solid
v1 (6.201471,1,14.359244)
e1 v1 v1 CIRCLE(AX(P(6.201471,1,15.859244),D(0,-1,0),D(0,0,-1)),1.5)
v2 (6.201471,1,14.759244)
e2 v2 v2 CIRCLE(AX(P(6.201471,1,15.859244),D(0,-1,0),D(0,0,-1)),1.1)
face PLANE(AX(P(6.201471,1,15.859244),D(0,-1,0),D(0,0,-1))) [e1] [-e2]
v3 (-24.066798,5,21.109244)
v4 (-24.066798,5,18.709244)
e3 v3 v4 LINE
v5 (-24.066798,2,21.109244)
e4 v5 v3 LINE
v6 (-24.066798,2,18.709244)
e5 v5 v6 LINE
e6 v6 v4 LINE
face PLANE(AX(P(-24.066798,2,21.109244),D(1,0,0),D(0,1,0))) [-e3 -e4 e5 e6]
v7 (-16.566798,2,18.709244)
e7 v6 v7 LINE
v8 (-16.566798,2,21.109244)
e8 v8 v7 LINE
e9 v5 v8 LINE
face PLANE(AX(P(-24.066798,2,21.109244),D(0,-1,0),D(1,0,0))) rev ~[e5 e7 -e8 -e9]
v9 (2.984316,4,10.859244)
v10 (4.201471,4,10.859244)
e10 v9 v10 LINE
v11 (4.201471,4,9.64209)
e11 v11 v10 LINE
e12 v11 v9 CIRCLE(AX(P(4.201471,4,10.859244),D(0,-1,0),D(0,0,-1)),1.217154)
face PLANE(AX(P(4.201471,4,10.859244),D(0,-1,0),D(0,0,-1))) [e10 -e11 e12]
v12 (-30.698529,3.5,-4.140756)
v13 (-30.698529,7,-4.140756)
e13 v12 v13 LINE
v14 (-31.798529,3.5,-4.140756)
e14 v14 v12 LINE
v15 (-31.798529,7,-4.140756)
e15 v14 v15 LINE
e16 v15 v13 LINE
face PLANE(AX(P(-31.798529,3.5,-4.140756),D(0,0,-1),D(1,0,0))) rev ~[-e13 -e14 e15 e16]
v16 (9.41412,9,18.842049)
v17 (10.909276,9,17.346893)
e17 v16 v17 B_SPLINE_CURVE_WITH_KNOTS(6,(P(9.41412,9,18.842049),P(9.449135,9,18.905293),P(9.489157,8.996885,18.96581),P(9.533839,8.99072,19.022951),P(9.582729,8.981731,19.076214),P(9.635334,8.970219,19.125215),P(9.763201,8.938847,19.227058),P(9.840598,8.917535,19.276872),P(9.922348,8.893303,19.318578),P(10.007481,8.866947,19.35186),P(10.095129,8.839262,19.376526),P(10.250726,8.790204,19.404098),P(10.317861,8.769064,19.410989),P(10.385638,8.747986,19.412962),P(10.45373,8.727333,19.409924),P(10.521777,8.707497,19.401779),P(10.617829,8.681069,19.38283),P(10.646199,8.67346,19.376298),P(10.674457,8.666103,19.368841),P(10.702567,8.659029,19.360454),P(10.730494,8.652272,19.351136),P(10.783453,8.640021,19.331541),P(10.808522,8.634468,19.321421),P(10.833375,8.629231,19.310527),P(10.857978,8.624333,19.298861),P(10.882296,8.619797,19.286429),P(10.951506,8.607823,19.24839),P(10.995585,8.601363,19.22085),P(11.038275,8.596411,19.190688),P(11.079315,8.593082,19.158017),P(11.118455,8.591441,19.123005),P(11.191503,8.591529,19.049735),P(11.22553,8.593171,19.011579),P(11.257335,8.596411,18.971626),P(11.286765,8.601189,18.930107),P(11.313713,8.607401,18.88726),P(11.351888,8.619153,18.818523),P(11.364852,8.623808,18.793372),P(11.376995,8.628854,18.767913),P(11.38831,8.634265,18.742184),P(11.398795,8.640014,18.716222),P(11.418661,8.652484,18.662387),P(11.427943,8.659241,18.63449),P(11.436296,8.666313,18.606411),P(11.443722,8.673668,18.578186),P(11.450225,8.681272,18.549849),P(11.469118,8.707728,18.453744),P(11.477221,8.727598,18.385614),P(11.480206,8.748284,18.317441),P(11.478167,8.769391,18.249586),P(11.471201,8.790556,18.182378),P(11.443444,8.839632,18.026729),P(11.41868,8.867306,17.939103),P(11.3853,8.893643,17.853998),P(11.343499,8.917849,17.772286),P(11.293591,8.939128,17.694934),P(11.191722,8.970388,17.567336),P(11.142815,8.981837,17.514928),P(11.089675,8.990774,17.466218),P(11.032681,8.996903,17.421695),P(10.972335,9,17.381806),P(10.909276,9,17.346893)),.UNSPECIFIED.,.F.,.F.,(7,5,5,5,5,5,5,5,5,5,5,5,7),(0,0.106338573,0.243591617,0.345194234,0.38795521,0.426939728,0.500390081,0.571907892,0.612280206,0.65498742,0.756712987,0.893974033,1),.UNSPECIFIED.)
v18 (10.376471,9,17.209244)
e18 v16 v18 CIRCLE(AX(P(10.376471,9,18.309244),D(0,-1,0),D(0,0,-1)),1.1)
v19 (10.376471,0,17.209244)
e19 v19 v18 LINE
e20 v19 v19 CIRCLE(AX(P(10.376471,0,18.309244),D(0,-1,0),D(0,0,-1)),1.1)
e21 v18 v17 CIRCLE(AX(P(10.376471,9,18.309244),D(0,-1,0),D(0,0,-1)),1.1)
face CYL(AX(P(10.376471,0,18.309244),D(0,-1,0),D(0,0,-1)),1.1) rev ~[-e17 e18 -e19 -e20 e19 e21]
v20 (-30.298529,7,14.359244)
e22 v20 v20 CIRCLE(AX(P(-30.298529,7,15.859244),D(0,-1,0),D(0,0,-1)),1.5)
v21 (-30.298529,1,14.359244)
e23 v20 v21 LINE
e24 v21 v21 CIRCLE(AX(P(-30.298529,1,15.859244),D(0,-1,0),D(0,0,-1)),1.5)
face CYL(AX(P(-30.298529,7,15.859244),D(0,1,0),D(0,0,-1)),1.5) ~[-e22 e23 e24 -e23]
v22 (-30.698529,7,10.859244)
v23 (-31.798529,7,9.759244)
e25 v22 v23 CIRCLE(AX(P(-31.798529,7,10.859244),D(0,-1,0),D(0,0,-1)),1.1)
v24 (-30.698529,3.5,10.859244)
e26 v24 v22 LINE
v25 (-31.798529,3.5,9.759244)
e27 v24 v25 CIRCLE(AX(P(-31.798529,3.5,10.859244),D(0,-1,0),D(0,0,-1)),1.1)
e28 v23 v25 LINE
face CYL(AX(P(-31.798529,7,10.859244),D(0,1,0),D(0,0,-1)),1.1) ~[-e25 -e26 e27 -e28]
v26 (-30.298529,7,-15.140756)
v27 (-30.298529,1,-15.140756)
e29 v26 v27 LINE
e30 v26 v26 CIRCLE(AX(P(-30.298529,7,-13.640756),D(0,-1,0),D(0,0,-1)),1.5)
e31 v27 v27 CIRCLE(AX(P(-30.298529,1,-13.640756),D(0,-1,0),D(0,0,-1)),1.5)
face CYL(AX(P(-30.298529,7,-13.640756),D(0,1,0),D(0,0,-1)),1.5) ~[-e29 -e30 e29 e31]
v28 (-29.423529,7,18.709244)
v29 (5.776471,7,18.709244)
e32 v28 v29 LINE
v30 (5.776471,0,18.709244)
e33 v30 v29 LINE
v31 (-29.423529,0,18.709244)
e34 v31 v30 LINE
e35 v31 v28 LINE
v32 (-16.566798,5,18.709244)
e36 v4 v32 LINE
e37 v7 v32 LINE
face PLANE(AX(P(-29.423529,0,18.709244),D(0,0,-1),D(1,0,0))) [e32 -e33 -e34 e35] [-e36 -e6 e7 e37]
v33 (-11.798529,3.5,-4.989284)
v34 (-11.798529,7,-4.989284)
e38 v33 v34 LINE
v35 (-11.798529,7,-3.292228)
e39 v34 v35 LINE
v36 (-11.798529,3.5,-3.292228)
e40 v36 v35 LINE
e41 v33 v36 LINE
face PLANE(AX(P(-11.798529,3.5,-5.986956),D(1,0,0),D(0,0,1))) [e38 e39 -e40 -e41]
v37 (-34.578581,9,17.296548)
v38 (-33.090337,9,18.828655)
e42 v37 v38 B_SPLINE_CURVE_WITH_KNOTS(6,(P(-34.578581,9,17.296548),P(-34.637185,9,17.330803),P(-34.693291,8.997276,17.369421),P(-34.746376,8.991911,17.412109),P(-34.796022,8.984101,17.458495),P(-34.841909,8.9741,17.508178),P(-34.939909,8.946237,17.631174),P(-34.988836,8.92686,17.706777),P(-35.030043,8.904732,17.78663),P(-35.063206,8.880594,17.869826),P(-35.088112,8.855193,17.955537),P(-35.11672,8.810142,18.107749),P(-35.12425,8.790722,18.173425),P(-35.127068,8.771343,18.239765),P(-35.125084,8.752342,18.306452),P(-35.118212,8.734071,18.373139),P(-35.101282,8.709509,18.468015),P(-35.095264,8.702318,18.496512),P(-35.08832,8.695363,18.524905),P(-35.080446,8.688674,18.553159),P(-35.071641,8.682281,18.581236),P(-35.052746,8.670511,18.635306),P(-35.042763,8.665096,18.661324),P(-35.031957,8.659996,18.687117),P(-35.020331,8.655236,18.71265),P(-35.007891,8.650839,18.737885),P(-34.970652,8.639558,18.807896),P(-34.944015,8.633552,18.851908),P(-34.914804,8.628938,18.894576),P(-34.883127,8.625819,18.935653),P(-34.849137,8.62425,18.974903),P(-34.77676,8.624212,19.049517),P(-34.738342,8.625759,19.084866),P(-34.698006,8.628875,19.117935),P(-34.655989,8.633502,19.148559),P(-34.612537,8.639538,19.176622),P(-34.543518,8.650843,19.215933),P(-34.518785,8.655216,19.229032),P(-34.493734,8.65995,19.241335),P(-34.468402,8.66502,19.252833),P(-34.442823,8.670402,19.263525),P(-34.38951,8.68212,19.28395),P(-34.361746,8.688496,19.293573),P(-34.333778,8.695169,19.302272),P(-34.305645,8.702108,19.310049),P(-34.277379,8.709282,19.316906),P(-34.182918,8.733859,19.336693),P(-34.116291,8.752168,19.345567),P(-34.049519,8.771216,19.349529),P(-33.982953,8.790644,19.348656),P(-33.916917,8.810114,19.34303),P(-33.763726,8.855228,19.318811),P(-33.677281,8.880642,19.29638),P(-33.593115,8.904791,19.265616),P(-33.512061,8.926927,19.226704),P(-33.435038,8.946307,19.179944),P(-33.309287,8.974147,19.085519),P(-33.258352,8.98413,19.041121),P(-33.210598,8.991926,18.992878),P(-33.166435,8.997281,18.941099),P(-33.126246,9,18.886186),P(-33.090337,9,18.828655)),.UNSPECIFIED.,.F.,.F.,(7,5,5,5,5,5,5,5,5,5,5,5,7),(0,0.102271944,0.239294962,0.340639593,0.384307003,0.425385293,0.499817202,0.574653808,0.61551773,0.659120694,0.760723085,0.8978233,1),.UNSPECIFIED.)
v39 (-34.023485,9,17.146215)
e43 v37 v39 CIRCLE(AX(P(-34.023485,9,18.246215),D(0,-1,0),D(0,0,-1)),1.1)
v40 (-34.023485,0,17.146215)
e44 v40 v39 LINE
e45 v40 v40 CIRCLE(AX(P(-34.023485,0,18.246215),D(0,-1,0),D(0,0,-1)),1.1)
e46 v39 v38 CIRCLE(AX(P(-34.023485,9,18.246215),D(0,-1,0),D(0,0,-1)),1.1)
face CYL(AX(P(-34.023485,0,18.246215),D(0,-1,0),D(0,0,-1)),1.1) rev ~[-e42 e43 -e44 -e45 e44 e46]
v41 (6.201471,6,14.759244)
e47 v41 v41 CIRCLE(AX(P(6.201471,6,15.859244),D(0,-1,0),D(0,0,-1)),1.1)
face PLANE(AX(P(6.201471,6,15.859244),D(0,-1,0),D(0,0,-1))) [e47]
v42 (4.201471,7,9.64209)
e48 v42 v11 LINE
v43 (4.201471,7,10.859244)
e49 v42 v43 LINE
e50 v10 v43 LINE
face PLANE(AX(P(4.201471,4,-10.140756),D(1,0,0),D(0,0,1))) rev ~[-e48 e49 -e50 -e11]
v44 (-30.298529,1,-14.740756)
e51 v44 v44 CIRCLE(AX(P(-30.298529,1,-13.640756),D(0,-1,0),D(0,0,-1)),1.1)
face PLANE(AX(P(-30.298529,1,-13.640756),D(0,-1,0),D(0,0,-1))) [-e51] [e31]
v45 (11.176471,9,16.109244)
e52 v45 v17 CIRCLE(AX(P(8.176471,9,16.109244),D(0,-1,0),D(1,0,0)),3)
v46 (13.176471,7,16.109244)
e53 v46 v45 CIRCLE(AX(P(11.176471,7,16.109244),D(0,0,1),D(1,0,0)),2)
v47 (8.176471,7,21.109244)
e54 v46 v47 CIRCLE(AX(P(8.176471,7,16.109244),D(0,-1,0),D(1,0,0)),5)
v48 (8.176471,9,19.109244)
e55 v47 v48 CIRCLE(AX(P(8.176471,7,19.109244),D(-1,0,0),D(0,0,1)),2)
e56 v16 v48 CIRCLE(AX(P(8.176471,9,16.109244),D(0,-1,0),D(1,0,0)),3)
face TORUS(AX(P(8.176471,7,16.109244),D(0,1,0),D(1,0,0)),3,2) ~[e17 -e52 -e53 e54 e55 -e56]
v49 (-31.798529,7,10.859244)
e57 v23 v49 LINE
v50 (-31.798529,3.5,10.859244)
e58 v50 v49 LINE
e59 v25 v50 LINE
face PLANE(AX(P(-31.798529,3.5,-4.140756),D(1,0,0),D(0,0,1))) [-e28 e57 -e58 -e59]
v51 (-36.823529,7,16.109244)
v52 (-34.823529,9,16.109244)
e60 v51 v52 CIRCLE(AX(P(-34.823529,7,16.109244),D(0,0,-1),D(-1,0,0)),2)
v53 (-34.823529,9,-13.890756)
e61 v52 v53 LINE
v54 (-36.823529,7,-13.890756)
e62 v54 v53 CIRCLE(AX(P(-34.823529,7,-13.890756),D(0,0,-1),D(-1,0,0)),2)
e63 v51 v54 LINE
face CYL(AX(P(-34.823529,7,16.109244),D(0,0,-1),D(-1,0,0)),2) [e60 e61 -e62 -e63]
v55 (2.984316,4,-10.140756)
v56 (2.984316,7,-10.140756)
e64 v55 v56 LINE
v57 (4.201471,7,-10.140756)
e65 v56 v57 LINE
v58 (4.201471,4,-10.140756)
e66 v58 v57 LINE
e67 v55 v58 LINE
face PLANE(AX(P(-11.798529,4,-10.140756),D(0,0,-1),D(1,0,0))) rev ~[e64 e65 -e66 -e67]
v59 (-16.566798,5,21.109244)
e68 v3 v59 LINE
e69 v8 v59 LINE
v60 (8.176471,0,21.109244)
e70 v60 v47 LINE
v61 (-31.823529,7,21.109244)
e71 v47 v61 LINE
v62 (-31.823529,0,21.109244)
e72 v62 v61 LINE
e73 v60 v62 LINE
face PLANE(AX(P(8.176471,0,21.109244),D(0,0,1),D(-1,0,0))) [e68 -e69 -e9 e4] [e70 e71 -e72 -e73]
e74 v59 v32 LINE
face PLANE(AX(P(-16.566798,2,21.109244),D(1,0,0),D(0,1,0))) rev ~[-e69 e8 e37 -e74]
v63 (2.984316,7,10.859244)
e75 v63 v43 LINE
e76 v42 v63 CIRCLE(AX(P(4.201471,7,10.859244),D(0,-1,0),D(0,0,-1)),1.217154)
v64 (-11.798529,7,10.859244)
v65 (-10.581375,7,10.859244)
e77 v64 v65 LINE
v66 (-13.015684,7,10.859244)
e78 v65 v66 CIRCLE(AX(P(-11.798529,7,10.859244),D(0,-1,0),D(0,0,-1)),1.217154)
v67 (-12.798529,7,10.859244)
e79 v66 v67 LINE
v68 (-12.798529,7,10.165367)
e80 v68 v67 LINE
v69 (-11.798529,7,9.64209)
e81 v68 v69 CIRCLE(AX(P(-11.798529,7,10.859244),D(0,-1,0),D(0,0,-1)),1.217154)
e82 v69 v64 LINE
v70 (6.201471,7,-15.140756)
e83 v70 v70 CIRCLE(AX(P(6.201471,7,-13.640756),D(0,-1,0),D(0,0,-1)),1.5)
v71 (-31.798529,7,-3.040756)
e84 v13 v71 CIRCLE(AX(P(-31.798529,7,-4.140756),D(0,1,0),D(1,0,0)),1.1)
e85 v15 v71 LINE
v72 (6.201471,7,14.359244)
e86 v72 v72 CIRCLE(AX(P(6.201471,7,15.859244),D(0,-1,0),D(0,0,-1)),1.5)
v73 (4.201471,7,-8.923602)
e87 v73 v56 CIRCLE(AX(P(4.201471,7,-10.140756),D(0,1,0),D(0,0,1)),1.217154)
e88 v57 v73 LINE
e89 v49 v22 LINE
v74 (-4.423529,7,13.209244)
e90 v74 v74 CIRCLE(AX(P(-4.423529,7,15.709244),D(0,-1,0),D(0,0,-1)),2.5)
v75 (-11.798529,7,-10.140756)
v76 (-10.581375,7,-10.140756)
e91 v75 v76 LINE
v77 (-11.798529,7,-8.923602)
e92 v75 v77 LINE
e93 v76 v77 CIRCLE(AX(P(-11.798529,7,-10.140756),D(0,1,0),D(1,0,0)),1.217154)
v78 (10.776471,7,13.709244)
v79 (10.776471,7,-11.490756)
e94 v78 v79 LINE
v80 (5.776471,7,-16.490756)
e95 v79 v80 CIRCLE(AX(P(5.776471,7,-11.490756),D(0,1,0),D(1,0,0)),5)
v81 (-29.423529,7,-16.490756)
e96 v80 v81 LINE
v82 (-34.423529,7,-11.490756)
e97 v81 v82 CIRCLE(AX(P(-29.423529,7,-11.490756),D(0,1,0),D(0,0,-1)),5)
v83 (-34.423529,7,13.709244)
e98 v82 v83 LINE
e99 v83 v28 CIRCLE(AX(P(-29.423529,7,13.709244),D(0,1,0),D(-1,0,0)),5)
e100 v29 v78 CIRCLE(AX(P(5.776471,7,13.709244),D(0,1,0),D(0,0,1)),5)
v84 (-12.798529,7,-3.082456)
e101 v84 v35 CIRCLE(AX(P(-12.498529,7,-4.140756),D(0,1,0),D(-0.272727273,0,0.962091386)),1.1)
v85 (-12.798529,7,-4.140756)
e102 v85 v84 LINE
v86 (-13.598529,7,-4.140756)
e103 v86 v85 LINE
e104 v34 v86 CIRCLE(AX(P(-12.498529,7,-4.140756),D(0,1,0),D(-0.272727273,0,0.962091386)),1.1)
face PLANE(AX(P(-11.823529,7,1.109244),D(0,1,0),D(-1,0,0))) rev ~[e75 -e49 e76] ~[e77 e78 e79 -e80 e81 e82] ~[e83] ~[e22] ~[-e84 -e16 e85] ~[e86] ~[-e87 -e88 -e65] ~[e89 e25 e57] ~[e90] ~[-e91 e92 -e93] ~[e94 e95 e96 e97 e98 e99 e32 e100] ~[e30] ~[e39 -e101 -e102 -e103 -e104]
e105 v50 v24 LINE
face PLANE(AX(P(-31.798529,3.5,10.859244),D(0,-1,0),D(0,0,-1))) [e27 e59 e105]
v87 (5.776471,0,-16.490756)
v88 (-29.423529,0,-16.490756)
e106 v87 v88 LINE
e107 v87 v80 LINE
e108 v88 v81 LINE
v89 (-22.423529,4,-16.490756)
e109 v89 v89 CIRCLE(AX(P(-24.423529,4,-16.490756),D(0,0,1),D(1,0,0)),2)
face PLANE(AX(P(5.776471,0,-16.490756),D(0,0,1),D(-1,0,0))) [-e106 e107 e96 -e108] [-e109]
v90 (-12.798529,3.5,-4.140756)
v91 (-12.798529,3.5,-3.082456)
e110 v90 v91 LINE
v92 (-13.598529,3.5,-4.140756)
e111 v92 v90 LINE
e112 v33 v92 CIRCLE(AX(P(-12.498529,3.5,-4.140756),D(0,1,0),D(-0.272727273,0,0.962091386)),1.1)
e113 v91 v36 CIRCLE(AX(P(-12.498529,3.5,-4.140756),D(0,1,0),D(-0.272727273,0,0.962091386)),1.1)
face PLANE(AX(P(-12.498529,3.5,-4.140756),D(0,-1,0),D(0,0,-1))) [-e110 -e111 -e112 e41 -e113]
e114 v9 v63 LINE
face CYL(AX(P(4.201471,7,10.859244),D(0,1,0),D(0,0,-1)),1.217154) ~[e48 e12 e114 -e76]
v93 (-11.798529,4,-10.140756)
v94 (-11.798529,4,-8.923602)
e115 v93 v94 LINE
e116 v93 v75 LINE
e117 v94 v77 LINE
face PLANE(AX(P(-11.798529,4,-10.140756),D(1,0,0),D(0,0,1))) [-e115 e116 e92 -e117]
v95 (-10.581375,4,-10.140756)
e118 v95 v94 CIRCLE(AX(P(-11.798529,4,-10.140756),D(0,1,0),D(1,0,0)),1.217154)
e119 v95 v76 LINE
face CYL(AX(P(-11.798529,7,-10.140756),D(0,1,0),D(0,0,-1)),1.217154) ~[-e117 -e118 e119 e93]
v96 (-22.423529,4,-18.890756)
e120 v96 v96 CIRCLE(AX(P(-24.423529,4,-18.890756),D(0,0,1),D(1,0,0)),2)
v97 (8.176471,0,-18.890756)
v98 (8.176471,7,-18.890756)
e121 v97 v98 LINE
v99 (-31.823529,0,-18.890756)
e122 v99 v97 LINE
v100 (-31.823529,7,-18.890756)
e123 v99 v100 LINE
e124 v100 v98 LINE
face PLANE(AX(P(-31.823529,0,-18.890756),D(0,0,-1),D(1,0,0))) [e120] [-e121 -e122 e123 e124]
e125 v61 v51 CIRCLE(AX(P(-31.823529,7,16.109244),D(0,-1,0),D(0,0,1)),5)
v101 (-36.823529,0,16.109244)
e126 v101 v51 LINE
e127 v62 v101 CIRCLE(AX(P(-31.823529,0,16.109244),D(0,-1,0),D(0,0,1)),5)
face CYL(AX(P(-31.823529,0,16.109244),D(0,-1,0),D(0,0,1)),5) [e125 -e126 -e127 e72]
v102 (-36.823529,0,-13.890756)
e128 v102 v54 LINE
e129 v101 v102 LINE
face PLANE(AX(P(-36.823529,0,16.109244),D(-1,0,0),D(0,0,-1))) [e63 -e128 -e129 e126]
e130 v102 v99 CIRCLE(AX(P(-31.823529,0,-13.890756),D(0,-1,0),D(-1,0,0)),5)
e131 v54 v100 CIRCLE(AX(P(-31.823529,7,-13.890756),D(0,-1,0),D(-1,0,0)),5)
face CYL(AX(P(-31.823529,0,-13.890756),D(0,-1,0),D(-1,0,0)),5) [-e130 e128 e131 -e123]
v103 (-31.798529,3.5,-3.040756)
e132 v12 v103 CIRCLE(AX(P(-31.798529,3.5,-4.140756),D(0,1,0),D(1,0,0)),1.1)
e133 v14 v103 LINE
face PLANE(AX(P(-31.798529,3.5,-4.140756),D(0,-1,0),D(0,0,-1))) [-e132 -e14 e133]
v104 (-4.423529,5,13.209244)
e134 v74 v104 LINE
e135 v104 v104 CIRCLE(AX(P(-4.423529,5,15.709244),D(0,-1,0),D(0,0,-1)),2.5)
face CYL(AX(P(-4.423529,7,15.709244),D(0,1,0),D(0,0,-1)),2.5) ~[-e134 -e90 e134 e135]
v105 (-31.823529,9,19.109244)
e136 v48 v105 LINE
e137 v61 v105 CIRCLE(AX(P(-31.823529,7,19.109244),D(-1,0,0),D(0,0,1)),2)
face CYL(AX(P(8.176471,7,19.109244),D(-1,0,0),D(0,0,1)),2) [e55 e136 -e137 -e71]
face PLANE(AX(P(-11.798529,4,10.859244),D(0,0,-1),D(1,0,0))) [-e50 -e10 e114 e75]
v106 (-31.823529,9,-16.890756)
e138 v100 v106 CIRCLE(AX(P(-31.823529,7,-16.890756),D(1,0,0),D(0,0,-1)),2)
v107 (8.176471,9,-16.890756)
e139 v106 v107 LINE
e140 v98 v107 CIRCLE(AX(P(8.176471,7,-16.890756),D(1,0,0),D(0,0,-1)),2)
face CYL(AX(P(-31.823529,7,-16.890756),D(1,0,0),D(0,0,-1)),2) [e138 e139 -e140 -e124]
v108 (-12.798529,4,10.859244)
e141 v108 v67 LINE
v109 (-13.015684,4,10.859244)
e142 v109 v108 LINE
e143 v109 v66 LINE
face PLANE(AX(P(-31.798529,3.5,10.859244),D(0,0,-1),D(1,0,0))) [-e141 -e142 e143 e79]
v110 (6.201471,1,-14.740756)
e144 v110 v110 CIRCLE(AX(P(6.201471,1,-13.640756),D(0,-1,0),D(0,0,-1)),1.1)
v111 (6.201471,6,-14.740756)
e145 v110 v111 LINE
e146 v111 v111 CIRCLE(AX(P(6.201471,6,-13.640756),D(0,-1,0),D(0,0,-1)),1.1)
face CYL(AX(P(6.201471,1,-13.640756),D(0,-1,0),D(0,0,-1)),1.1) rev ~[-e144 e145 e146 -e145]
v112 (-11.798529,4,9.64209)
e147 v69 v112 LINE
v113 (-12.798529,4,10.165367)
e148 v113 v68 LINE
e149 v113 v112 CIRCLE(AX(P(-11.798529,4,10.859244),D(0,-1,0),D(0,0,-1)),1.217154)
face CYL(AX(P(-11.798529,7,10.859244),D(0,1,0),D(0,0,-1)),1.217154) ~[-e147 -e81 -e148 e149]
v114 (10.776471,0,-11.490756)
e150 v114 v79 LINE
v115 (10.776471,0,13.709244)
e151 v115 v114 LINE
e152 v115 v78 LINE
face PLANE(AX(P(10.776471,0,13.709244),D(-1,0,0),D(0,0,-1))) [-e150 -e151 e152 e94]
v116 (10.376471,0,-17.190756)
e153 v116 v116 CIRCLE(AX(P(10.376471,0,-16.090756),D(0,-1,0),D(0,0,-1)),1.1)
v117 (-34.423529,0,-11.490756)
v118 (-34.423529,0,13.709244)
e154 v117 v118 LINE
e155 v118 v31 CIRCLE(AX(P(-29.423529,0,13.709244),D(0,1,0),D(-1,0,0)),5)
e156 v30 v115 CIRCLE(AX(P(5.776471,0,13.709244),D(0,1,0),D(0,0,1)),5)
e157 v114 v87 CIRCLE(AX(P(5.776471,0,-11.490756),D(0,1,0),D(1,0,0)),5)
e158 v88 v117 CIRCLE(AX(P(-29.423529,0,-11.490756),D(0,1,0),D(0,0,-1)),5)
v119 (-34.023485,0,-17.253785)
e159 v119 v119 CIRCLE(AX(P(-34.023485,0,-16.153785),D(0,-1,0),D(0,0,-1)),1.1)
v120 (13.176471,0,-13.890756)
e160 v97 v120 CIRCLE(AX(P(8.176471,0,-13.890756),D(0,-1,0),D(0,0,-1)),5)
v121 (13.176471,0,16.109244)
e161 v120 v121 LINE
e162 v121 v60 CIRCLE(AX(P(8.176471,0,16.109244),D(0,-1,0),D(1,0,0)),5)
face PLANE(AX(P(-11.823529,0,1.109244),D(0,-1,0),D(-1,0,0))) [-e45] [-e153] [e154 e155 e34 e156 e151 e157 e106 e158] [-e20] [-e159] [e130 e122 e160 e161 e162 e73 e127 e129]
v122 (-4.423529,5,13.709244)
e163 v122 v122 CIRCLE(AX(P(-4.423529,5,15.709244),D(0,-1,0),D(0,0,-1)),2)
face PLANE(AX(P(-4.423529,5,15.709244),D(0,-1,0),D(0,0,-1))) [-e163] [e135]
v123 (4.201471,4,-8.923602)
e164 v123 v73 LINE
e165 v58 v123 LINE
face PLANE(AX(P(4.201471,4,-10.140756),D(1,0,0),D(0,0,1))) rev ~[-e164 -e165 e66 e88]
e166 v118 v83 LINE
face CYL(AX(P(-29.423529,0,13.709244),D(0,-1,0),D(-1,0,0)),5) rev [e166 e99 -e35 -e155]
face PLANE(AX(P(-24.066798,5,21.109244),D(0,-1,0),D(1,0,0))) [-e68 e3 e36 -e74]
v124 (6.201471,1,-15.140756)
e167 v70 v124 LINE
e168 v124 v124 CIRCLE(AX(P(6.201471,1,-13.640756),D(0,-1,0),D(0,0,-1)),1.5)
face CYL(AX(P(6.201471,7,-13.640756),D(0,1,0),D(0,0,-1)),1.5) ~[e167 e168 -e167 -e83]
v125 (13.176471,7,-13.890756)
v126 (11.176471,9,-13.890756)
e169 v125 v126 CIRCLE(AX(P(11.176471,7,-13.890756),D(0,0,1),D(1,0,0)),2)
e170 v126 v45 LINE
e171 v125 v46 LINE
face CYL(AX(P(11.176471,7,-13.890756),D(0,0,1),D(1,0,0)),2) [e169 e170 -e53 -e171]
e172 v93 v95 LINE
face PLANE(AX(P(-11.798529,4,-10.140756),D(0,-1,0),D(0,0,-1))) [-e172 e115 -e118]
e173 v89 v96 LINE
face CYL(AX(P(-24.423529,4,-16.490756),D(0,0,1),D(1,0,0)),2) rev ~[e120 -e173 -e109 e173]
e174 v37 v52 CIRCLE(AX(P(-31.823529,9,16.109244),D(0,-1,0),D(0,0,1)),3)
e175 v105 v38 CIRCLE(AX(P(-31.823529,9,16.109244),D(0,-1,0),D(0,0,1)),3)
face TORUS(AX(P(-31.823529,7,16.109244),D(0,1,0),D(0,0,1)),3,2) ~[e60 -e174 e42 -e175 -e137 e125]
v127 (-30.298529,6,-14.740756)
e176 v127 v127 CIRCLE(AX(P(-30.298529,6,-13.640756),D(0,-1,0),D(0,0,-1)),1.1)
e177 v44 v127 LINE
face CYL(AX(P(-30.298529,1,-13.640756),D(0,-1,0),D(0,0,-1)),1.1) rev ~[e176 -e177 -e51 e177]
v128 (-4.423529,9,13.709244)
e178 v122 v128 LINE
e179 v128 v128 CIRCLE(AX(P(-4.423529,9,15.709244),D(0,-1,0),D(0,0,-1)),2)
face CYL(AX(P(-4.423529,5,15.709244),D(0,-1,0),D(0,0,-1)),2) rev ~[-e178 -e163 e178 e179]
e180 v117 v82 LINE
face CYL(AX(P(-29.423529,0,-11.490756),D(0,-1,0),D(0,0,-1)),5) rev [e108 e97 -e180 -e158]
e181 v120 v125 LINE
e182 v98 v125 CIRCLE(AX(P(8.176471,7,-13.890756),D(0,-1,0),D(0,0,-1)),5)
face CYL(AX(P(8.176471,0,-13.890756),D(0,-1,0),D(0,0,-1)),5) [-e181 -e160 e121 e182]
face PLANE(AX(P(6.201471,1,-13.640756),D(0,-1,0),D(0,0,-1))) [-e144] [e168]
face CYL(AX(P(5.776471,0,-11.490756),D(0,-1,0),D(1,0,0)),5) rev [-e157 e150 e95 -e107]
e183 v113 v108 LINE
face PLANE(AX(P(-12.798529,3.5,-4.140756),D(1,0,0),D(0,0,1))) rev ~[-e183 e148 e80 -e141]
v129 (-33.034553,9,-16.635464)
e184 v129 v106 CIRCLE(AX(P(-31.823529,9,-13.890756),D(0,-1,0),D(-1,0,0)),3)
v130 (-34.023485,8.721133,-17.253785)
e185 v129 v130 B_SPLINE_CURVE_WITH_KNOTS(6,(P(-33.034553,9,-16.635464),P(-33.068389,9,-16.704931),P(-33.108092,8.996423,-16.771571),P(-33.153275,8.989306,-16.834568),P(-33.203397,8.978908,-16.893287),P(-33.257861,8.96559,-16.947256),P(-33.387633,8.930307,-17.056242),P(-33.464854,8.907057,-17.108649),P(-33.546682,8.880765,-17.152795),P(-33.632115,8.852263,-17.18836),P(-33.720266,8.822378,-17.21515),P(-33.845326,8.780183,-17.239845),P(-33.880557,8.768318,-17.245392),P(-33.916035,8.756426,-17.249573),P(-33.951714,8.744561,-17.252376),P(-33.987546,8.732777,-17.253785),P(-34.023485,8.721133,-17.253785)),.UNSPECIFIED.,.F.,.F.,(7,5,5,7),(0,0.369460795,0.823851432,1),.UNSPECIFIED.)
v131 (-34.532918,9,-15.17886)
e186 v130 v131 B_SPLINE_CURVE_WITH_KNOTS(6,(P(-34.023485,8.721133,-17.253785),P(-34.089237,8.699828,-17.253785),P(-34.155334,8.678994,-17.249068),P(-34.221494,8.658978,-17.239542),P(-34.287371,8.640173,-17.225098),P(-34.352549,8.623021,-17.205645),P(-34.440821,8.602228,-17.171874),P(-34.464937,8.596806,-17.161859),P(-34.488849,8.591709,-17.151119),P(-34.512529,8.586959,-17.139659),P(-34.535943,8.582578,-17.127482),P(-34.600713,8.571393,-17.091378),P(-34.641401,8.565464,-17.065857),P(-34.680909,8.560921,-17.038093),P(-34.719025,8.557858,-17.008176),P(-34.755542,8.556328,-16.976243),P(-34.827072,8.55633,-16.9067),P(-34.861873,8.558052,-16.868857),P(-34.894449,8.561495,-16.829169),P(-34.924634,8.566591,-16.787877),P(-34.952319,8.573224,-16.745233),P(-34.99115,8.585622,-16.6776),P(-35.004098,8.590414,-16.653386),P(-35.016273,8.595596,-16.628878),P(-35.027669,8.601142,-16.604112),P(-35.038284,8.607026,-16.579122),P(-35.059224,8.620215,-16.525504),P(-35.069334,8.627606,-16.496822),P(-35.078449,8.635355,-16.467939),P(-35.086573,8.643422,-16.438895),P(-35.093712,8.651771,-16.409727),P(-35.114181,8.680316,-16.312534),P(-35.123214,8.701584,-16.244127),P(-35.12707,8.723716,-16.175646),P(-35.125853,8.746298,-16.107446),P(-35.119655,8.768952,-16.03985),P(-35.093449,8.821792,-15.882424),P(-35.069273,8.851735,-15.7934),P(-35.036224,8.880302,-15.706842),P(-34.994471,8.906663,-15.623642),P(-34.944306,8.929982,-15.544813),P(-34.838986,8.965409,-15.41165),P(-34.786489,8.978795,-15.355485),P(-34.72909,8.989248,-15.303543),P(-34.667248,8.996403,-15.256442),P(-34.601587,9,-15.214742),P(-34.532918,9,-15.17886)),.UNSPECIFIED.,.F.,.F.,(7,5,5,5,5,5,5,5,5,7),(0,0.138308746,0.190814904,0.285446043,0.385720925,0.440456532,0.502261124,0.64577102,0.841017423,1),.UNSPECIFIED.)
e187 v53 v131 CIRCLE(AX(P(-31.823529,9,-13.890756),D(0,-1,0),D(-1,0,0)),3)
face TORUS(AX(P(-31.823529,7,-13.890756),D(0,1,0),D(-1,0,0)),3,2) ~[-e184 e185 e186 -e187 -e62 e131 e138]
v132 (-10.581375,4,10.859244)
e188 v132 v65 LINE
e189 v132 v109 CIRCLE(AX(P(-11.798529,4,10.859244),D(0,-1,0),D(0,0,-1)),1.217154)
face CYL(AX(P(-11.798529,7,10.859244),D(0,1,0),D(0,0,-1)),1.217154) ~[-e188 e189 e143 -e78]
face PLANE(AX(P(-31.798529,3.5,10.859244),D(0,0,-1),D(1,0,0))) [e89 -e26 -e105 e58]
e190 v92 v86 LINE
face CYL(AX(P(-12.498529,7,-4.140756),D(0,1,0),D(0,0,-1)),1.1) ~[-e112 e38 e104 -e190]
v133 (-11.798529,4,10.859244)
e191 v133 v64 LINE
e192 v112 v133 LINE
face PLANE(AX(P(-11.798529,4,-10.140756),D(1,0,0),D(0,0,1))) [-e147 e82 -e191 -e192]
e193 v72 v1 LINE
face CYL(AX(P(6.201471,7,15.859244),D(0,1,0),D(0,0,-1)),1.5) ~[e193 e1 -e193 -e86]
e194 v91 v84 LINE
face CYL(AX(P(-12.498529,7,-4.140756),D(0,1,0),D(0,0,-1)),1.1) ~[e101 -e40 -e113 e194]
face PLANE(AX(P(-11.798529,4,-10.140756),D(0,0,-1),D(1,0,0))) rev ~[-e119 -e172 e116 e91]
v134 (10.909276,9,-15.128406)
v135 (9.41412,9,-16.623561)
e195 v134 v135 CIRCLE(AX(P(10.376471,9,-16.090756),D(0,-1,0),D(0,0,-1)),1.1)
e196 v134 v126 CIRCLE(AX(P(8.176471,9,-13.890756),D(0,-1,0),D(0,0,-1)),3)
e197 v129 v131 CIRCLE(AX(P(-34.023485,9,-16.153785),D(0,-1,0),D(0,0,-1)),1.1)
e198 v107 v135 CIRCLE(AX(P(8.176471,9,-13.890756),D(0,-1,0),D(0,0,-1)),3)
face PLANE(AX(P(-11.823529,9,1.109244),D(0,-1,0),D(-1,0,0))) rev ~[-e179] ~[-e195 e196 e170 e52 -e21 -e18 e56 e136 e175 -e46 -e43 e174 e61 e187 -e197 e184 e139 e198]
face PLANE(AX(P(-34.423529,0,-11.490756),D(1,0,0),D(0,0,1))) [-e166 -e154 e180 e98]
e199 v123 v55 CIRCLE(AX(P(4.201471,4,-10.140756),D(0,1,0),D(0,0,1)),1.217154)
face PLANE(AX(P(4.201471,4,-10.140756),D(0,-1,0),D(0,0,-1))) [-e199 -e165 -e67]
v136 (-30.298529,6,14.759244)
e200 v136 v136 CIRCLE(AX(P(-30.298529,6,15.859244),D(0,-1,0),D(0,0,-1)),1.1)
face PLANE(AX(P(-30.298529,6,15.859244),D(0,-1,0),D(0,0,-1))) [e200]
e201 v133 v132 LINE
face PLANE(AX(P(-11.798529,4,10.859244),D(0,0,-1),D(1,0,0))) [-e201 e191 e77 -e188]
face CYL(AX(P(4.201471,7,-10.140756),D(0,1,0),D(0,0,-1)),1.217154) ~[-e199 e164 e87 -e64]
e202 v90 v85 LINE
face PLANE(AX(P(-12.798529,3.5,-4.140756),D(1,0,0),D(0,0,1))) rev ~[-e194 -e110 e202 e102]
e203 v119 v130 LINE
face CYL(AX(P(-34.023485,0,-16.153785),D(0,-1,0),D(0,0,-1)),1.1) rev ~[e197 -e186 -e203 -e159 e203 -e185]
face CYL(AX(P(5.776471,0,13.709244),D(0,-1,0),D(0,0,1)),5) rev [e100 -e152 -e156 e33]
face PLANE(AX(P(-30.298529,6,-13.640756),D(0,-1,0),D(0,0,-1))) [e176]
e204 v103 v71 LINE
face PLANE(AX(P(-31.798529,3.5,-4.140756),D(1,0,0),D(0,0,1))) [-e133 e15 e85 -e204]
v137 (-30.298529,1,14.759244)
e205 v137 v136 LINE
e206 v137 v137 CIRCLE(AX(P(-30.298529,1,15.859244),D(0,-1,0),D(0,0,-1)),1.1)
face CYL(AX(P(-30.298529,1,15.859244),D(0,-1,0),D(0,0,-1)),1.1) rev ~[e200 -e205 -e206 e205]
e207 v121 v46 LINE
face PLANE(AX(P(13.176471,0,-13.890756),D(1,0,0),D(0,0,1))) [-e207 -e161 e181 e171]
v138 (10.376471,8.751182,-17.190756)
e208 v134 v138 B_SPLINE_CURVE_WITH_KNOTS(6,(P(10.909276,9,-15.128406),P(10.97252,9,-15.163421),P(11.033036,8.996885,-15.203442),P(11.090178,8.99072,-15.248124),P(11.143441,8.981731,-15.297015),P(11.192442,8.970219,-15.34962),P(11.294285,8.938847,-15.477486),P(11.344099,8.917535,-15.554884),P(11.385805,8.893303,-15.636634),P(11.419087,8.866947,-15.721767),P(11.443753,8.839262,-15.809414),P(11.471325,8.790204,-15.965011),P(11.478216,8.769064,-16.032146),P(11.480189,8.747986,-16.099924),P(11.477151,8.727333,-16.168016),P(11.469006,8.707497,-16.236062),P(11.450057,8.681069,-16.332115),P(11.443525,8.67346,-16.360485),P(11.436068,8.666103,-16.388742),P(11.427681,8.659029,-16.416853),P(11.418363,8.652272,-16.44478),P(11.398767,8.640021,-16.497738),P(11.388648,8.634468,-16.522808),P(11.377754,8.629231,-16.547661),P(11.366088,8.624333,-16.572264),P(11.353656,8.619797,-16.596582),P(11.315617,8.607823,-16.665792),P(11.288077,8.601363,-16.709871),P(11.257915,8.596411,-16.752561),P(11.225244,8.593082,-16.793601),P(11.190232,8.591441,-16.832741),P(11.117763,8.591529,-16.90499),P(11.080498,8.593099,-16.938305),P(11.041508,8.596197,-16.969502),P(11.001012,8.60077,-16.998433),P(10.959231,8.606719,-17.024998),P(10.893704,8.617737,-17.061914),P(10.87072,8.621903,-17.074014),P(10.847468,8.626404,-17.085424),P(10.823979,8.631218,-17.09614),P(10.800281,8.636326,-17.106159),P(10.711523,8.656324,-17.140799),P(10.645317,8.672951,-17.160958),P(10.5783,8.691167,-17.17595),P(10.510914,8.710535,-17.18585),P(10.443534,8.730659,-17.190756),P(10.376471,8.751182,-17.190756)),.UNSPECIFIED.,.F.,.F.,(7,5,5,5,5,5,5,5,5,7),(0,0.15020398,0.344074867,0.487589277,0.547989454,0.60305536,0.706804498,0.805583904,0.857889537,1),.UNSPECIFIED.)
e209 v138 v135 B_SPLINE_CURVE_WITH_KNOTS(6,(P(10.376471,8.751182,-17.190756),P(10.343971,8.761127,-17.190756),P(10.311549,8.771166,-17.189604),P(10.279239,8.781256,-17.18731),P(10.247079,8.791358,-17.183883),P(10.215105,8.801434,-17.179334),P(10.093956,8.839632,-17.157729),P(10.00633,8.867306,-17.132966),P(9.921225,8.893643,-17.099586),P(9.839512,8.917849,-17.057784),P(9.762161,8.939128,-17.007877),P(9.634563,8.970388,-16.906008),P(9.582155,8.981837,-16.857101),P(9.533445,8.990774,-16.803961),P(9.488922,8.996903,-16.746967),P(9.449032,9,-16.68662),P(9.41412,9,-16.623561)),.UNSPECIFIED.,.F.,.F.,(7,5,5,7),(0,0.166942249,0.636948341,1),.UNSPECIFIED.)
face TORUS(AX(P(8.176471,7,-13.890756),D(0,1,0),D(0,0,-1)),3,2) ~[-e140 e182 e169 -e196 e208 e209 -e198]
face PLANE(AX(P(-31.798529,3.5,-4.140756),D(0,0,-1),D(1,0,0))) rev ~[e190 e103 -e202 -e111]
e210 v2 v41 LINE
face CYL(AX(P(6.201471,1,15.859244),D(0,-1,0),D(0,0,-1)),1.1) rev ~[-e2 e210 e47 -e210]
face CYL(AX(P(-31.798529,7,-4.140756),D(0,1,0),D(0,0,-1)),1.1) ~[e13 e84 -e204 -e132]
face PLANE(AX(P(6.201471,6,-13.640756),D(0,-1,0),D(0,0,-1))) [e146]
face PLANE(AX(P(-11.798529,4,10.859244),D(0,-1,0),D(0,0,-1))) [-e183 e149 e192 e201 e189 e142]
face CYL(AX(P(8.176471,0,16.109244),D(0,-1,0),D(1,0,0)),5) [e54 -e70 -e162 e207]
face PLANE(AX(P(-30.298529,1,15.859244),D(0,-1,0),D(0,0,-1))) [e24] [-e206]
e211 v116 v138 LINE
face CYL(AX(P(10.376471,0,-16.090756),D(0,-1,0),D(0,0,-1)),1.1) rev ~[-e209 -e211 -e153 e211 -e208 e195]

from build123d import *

# Parameters (mm, degrees)
BOSS_EXTRUDE1_DEPTH = 9
FILLET1_R           = 2
CUT_EXTRUDE1_DEPTH  = 7
SKETCH3_R           = 1.1
CUT_EXTRUDE2_DEPTH  = 44.38862164
SKETCH4_R           = 1.5
BOSS_EXTRUDE2_DEPTH = 6
SKETCH5_R           = 1.1
CUT_EXTRUDE3_DEPTH  = 5
SKETCH7_R           = 1.21715418
BOSS_EXTRUDE3_DEPTH = 3
SKETCH8_W           = 16
SKETCH8_H           = 21
CUT_EXTRUDE4_DEPTH  = 3
SKETCH9_R           = 2
CUT_EXTRUDE5_DEPTH  = 54.392249766
SKETCH10_R          = 2.5
BOSS_EXTRUDE4_DEPTH = 2
SKETCH11_R          = 2
CUT_EXTRUDE6_DEPTH  = 43.738419489
SKETCH14_R          = 1.1
BOSS_EXTRUDE5_DEPTH = 3.5
SKETCH15_W          = 19
SKETCH15_H          = 15
CUT_EXTRUDE7_DEPTH  = 3.5
SKETCH16_W          = 1.21715418
SKETCH16_H          = 16.846199199
CUT_EXTRUDE8_DEPTH  = 3.5
SKETCH17_W          = 7.5
SKETCH17_H          = 3
CUT_EXTRUDE9_DEPTH  = 2.4


with BuildPart() as part:
    # Sketch1 → Boss-Extrude1 (new body)
    with BuildSketch(Plane(origin=(0, 0, 0), x_dir=(1, 0, 0), z_dir=(0, 1, 0))):
        with BuildLine():
            Line((-31.823529412, 18.890756303), (8.176470588, 18.890756303))
            ThreePointArc((8.176470588, 18.890756303), (11.712004494, 17.426290208), (13.176470588, 13.890756303))
            Line((13.176470588, 13.890756303), (13.176470588, -16.109243697))
            ThreePointArc((13.176470588, -16.109243697), (11.712004494, -19.644777603), (8.176470588, -21.109243697))
            Line((8.176470588, -21.109243697), (-31.823529412, -21.109243697))
            ThreePointArc((-31.823529412, -21.109243697), (-35.359063318, -19.644777603), (-36.823529412, -16.109243697))
            Line((-36.823529412, -16.109243697), (-36.823529412, 13.890756303))
            ThreePointArc((-36.823529412, 13.890756303), (-35.359063318, 17.426290208), (-31.823529412, 18.890756303))
        make_face()
    extrude(amount=BOSS_EXTRUDE1_DEPTH)

    # Fillet1
    fillet1_edges = [part.edges().sort_by_distance(p)[0] for p in [
        (11.712004494, 9, -17.426290208),
        (-11.823529412, 9, -18.890756303),
        (-35.359063318, 9, -17.426290208),
        (-36.823529412, 9, 1.109243697),
        (-35.359063318, 9, 19.644777603),
        (-11.823529412, 9, 21.109243697),
        (11.712004494, 9, 19.644777603),
        (13.176470588, 9, 1.109243697),
    ]]
    fillet(fillet1_edges, radius=FILLET1_R)

    # Sketch2 → Cut-Extrude1 (cut)
    with BuildSketch(Plane.XZ):
        with BuildLine():
            Line((-29.423529412, 18.709243697), (5.776470588, 18.709243697))
            ThreePointArc((5.776470588, 18.709243697), (9.312004494, 17.244777603), (10.776470588, 13.709243697))
            Line((10.776470588, 13.709243697), (10.776470588, -11.490756303))
            ThreePointArc((10.776470588, -11.490756303), (9.312004494, -15.026290208), (5.776470588, -16.490756303))
            Line((5.776470588, -16.490756303), (-29.423529412, -16.490756303))
            ThreePointArc((-29.423529412, -16.490756303), (-32.959063318, -15.026290208), (-34.423529412, -11.490756303))
            Line((-34.423529412, -11.490756303), (-34.423529412, 13.709243697))
            ThreePointArc((-34.423529412, 13.709243697), (-32.959063318, 17.244777603), (-29.423529412, 18.709243697))
        make_face()
    extrude(amount=-CUT_EXTRUDE1_DEPTH, mode=Mode.SUBTRACT)

    # Sketch3 → Cut-Extrude2 (cut, through all)
    with BuildSketch(Plane.XZ):
        with Locations(Location((10.376470588, 18.309243697, 0), (0, 0, 270))):
            Circle(SKETCH3_R)
        with Locations(Location((-34.023484676, 18.246215417, 0), (0, 0, 270))):
            Circle(SKETCH3_R)
        with Locations(Location((-34.023484676, -16.153784583, 0), (0, 0, 270))):
            Circle(SKETCH3_R)
        with Locations(Location((10.376470588, -16.090756303, 0), (0, 0, 270))):
            Circle(SKETCH3_R)
    extrude(amount=-CUT_EXTRUDE2_DEPTH, mode=Mode.SUBTRACT)

    # Sketch4 → Boss-Extrude2 (add)
    with BuildSketch(Plane.XZ.offset(-7)):
        with Locations(Location((6.201470588, 15.859243697, 0), (0, 0, 270))):
            Circle(SKETCH4_R)
        with Locations(Location((-30.298529412, 15.859243697, 0), (0, 0, 270))):
            Circle(SKETCH4_R)
        with Locations(Location((-30.298529412, -13.640756303, 0), (0, 0, 270))):
            Circle(SKETCH4_R)
        with Locations(Location((6.201470588, -13.640756303, 0), (0, 0, 270))):
            Circle(SKETCH4_R)
    extrude(amount=BOSS_EXTRUDE2_DEPTH)

    # Sketch5 → Cut-Extrude3 (cut)
    with BuildSketch(Plane.XZ.offset(-1)):
        with Locations(Location((6.201470588, 15.859243697, 0), (0, 0, 270))):
            Circle(SKETCH5_R)
        with Locations(Location((-30.298529412, 15.859243697, 0), (0, 0, 270))):
            Circle(SKETCH5_R)
        with Locations(Location((-30.298529412, -13.640756303, 0), (0, 0, 270))):
            Circle(SKETCH5_R)
        with Locations(Location((6.201470588, -13.640756303, 0), (0, 0, 270))):
            Circle(SKETCH5_R)
    extrude(amount=-CUT_EXTRUDE3_DEPTH, mode=Mode.SUBTRACT)

    # Sketch7 → Boss-Extrude3 (add)
    with BuildSketch(Plane(origin=(0, 7, 0), x_dir=(-1, 0, 0), z_dir=(0, -1, 0))):
        with Locations(Location((-4.201470588, -10.859243697, 0), (0, 0, 90))):
            Circle(SKETCH7_R)
        with Locations(Location((11.798529412, -10.859243697, 0), (0, 0, 90))):
            Circle(SKETCH7_R)
        with Locations(Location((11.798529412, 10.140756303, 0), (0, 0, 90))):
            Circle(SKETCH7_R)
        with Locations(Location((-4.201470588, 10.140756303, 0), (0, 0, 90))):
            Circle(SKETCH7_R)
    extrude(amount=BOSS_EXTRUDE3_DEPTH)

    # Sketch8 → Cut-Extrude4 (cut)
    with BuildSketch(Plane.XZ.offset(-4)):
        with Locations((-3.798529412, 0.359243697)):
            Rectangle(SKETCH8_W, SKETCH8_H)
    extrude(amount=-CUT_EXTRUDE4_DEPTH, mode=Mode.SUBTRACT)

    # Sketch9 → Cut-Extrude5 (cut, through all)
    with BuildSketch(Plane.XY.offset(-16.490756303)):
        with Locations((-24.423529412, 4)):
            Circle(SKETCH9_R)
    extrude(amount=-CUT_EXTRUDE5_DEPTH, mode=Mode.SUBTRACT)

    # Sketch10 → Boss-Extrude4 (add)
    with BuildSketch(Plane.XZ.offset(-7)):
        with Locations(Location((-4.423529412, 15.709243697, 0), (0, 0, 270))):
            Circle(SKETCH10_R)
    extrude(amount=BOSS_EXTRUDE4_DEPTH)

    # Sketch11 → Cut-Extrude6 (cut, through all)
    with BuildSketch(Plane.XZ.offset(-5)):
        with Locations(Location((-4.423529412, 15.709243697, 0), (0, 0, 270))):
            Circle(SKETCH11_R)
    extrude(amount=-CUT_EXTRUDE6_DEPTH, mode=Mode.SUBTRACT)

    # Sketch14 → Boss-Extrude5 (add)
    with BuildSketch(Plane(origin=(0, 7, 0), x_dir=(-1, 0, 0), z_dir=(0, -1, 0))):
        with Locations(Location((31.798529412, -10.859243697, 0), (0, 0, 90))):
            Circle(SKETCH14_R)
        with Locations(Location((31.798529412, 4.140756303, 0), (0, 0, 90))):
            Circle(SKETCH14_R)
        with Locations(Location((12.498529412, 4.140756303, 0), (0, 0, 90))):
            Circle(SKETCH14_R)
    extrude(amount=BOSS_EXTRUDE5_DEPTH)

    # Sketch15 → Cut-Extrude7 (cut)
    with BuildSketch(Plane.XZ.offset(-3.5)):
        with Locations((-22.298529412, 3.359243697)):
            Rectangle(SKETCH15_W, SKETCH15_H)
    extrude(amount=-CUT_EXTRUDE7_DEPTH, mode=Mode.SUBTRACT)

    # Sketch16 → Cut-Extrude8 (cut)
    with BuildSketch(Plane.XZ.offset(-3.5)):
        with Locations((-11.189952322, 2.436144097)):
            Rectangle(SKETCH16_W, SKETCH16_H)
    extrude(amount=-CUT_EXTRUDE8_DEPTH, mode=Mode.SUBTRACT)

    # Sketch17 → Cut-Extrude9 (cut)
    with BuildSketch(Plane.XY.offset(21.109243697)):
        with Locations((-20.316797715, 3.5)):
            Rectangle(SKETCH17_W, SKETCH17_H)
    extrude(amount=-CUT_EXTRUDE9_DEPTH, mode=Mode.SUBTRACT)


solid = part.part
